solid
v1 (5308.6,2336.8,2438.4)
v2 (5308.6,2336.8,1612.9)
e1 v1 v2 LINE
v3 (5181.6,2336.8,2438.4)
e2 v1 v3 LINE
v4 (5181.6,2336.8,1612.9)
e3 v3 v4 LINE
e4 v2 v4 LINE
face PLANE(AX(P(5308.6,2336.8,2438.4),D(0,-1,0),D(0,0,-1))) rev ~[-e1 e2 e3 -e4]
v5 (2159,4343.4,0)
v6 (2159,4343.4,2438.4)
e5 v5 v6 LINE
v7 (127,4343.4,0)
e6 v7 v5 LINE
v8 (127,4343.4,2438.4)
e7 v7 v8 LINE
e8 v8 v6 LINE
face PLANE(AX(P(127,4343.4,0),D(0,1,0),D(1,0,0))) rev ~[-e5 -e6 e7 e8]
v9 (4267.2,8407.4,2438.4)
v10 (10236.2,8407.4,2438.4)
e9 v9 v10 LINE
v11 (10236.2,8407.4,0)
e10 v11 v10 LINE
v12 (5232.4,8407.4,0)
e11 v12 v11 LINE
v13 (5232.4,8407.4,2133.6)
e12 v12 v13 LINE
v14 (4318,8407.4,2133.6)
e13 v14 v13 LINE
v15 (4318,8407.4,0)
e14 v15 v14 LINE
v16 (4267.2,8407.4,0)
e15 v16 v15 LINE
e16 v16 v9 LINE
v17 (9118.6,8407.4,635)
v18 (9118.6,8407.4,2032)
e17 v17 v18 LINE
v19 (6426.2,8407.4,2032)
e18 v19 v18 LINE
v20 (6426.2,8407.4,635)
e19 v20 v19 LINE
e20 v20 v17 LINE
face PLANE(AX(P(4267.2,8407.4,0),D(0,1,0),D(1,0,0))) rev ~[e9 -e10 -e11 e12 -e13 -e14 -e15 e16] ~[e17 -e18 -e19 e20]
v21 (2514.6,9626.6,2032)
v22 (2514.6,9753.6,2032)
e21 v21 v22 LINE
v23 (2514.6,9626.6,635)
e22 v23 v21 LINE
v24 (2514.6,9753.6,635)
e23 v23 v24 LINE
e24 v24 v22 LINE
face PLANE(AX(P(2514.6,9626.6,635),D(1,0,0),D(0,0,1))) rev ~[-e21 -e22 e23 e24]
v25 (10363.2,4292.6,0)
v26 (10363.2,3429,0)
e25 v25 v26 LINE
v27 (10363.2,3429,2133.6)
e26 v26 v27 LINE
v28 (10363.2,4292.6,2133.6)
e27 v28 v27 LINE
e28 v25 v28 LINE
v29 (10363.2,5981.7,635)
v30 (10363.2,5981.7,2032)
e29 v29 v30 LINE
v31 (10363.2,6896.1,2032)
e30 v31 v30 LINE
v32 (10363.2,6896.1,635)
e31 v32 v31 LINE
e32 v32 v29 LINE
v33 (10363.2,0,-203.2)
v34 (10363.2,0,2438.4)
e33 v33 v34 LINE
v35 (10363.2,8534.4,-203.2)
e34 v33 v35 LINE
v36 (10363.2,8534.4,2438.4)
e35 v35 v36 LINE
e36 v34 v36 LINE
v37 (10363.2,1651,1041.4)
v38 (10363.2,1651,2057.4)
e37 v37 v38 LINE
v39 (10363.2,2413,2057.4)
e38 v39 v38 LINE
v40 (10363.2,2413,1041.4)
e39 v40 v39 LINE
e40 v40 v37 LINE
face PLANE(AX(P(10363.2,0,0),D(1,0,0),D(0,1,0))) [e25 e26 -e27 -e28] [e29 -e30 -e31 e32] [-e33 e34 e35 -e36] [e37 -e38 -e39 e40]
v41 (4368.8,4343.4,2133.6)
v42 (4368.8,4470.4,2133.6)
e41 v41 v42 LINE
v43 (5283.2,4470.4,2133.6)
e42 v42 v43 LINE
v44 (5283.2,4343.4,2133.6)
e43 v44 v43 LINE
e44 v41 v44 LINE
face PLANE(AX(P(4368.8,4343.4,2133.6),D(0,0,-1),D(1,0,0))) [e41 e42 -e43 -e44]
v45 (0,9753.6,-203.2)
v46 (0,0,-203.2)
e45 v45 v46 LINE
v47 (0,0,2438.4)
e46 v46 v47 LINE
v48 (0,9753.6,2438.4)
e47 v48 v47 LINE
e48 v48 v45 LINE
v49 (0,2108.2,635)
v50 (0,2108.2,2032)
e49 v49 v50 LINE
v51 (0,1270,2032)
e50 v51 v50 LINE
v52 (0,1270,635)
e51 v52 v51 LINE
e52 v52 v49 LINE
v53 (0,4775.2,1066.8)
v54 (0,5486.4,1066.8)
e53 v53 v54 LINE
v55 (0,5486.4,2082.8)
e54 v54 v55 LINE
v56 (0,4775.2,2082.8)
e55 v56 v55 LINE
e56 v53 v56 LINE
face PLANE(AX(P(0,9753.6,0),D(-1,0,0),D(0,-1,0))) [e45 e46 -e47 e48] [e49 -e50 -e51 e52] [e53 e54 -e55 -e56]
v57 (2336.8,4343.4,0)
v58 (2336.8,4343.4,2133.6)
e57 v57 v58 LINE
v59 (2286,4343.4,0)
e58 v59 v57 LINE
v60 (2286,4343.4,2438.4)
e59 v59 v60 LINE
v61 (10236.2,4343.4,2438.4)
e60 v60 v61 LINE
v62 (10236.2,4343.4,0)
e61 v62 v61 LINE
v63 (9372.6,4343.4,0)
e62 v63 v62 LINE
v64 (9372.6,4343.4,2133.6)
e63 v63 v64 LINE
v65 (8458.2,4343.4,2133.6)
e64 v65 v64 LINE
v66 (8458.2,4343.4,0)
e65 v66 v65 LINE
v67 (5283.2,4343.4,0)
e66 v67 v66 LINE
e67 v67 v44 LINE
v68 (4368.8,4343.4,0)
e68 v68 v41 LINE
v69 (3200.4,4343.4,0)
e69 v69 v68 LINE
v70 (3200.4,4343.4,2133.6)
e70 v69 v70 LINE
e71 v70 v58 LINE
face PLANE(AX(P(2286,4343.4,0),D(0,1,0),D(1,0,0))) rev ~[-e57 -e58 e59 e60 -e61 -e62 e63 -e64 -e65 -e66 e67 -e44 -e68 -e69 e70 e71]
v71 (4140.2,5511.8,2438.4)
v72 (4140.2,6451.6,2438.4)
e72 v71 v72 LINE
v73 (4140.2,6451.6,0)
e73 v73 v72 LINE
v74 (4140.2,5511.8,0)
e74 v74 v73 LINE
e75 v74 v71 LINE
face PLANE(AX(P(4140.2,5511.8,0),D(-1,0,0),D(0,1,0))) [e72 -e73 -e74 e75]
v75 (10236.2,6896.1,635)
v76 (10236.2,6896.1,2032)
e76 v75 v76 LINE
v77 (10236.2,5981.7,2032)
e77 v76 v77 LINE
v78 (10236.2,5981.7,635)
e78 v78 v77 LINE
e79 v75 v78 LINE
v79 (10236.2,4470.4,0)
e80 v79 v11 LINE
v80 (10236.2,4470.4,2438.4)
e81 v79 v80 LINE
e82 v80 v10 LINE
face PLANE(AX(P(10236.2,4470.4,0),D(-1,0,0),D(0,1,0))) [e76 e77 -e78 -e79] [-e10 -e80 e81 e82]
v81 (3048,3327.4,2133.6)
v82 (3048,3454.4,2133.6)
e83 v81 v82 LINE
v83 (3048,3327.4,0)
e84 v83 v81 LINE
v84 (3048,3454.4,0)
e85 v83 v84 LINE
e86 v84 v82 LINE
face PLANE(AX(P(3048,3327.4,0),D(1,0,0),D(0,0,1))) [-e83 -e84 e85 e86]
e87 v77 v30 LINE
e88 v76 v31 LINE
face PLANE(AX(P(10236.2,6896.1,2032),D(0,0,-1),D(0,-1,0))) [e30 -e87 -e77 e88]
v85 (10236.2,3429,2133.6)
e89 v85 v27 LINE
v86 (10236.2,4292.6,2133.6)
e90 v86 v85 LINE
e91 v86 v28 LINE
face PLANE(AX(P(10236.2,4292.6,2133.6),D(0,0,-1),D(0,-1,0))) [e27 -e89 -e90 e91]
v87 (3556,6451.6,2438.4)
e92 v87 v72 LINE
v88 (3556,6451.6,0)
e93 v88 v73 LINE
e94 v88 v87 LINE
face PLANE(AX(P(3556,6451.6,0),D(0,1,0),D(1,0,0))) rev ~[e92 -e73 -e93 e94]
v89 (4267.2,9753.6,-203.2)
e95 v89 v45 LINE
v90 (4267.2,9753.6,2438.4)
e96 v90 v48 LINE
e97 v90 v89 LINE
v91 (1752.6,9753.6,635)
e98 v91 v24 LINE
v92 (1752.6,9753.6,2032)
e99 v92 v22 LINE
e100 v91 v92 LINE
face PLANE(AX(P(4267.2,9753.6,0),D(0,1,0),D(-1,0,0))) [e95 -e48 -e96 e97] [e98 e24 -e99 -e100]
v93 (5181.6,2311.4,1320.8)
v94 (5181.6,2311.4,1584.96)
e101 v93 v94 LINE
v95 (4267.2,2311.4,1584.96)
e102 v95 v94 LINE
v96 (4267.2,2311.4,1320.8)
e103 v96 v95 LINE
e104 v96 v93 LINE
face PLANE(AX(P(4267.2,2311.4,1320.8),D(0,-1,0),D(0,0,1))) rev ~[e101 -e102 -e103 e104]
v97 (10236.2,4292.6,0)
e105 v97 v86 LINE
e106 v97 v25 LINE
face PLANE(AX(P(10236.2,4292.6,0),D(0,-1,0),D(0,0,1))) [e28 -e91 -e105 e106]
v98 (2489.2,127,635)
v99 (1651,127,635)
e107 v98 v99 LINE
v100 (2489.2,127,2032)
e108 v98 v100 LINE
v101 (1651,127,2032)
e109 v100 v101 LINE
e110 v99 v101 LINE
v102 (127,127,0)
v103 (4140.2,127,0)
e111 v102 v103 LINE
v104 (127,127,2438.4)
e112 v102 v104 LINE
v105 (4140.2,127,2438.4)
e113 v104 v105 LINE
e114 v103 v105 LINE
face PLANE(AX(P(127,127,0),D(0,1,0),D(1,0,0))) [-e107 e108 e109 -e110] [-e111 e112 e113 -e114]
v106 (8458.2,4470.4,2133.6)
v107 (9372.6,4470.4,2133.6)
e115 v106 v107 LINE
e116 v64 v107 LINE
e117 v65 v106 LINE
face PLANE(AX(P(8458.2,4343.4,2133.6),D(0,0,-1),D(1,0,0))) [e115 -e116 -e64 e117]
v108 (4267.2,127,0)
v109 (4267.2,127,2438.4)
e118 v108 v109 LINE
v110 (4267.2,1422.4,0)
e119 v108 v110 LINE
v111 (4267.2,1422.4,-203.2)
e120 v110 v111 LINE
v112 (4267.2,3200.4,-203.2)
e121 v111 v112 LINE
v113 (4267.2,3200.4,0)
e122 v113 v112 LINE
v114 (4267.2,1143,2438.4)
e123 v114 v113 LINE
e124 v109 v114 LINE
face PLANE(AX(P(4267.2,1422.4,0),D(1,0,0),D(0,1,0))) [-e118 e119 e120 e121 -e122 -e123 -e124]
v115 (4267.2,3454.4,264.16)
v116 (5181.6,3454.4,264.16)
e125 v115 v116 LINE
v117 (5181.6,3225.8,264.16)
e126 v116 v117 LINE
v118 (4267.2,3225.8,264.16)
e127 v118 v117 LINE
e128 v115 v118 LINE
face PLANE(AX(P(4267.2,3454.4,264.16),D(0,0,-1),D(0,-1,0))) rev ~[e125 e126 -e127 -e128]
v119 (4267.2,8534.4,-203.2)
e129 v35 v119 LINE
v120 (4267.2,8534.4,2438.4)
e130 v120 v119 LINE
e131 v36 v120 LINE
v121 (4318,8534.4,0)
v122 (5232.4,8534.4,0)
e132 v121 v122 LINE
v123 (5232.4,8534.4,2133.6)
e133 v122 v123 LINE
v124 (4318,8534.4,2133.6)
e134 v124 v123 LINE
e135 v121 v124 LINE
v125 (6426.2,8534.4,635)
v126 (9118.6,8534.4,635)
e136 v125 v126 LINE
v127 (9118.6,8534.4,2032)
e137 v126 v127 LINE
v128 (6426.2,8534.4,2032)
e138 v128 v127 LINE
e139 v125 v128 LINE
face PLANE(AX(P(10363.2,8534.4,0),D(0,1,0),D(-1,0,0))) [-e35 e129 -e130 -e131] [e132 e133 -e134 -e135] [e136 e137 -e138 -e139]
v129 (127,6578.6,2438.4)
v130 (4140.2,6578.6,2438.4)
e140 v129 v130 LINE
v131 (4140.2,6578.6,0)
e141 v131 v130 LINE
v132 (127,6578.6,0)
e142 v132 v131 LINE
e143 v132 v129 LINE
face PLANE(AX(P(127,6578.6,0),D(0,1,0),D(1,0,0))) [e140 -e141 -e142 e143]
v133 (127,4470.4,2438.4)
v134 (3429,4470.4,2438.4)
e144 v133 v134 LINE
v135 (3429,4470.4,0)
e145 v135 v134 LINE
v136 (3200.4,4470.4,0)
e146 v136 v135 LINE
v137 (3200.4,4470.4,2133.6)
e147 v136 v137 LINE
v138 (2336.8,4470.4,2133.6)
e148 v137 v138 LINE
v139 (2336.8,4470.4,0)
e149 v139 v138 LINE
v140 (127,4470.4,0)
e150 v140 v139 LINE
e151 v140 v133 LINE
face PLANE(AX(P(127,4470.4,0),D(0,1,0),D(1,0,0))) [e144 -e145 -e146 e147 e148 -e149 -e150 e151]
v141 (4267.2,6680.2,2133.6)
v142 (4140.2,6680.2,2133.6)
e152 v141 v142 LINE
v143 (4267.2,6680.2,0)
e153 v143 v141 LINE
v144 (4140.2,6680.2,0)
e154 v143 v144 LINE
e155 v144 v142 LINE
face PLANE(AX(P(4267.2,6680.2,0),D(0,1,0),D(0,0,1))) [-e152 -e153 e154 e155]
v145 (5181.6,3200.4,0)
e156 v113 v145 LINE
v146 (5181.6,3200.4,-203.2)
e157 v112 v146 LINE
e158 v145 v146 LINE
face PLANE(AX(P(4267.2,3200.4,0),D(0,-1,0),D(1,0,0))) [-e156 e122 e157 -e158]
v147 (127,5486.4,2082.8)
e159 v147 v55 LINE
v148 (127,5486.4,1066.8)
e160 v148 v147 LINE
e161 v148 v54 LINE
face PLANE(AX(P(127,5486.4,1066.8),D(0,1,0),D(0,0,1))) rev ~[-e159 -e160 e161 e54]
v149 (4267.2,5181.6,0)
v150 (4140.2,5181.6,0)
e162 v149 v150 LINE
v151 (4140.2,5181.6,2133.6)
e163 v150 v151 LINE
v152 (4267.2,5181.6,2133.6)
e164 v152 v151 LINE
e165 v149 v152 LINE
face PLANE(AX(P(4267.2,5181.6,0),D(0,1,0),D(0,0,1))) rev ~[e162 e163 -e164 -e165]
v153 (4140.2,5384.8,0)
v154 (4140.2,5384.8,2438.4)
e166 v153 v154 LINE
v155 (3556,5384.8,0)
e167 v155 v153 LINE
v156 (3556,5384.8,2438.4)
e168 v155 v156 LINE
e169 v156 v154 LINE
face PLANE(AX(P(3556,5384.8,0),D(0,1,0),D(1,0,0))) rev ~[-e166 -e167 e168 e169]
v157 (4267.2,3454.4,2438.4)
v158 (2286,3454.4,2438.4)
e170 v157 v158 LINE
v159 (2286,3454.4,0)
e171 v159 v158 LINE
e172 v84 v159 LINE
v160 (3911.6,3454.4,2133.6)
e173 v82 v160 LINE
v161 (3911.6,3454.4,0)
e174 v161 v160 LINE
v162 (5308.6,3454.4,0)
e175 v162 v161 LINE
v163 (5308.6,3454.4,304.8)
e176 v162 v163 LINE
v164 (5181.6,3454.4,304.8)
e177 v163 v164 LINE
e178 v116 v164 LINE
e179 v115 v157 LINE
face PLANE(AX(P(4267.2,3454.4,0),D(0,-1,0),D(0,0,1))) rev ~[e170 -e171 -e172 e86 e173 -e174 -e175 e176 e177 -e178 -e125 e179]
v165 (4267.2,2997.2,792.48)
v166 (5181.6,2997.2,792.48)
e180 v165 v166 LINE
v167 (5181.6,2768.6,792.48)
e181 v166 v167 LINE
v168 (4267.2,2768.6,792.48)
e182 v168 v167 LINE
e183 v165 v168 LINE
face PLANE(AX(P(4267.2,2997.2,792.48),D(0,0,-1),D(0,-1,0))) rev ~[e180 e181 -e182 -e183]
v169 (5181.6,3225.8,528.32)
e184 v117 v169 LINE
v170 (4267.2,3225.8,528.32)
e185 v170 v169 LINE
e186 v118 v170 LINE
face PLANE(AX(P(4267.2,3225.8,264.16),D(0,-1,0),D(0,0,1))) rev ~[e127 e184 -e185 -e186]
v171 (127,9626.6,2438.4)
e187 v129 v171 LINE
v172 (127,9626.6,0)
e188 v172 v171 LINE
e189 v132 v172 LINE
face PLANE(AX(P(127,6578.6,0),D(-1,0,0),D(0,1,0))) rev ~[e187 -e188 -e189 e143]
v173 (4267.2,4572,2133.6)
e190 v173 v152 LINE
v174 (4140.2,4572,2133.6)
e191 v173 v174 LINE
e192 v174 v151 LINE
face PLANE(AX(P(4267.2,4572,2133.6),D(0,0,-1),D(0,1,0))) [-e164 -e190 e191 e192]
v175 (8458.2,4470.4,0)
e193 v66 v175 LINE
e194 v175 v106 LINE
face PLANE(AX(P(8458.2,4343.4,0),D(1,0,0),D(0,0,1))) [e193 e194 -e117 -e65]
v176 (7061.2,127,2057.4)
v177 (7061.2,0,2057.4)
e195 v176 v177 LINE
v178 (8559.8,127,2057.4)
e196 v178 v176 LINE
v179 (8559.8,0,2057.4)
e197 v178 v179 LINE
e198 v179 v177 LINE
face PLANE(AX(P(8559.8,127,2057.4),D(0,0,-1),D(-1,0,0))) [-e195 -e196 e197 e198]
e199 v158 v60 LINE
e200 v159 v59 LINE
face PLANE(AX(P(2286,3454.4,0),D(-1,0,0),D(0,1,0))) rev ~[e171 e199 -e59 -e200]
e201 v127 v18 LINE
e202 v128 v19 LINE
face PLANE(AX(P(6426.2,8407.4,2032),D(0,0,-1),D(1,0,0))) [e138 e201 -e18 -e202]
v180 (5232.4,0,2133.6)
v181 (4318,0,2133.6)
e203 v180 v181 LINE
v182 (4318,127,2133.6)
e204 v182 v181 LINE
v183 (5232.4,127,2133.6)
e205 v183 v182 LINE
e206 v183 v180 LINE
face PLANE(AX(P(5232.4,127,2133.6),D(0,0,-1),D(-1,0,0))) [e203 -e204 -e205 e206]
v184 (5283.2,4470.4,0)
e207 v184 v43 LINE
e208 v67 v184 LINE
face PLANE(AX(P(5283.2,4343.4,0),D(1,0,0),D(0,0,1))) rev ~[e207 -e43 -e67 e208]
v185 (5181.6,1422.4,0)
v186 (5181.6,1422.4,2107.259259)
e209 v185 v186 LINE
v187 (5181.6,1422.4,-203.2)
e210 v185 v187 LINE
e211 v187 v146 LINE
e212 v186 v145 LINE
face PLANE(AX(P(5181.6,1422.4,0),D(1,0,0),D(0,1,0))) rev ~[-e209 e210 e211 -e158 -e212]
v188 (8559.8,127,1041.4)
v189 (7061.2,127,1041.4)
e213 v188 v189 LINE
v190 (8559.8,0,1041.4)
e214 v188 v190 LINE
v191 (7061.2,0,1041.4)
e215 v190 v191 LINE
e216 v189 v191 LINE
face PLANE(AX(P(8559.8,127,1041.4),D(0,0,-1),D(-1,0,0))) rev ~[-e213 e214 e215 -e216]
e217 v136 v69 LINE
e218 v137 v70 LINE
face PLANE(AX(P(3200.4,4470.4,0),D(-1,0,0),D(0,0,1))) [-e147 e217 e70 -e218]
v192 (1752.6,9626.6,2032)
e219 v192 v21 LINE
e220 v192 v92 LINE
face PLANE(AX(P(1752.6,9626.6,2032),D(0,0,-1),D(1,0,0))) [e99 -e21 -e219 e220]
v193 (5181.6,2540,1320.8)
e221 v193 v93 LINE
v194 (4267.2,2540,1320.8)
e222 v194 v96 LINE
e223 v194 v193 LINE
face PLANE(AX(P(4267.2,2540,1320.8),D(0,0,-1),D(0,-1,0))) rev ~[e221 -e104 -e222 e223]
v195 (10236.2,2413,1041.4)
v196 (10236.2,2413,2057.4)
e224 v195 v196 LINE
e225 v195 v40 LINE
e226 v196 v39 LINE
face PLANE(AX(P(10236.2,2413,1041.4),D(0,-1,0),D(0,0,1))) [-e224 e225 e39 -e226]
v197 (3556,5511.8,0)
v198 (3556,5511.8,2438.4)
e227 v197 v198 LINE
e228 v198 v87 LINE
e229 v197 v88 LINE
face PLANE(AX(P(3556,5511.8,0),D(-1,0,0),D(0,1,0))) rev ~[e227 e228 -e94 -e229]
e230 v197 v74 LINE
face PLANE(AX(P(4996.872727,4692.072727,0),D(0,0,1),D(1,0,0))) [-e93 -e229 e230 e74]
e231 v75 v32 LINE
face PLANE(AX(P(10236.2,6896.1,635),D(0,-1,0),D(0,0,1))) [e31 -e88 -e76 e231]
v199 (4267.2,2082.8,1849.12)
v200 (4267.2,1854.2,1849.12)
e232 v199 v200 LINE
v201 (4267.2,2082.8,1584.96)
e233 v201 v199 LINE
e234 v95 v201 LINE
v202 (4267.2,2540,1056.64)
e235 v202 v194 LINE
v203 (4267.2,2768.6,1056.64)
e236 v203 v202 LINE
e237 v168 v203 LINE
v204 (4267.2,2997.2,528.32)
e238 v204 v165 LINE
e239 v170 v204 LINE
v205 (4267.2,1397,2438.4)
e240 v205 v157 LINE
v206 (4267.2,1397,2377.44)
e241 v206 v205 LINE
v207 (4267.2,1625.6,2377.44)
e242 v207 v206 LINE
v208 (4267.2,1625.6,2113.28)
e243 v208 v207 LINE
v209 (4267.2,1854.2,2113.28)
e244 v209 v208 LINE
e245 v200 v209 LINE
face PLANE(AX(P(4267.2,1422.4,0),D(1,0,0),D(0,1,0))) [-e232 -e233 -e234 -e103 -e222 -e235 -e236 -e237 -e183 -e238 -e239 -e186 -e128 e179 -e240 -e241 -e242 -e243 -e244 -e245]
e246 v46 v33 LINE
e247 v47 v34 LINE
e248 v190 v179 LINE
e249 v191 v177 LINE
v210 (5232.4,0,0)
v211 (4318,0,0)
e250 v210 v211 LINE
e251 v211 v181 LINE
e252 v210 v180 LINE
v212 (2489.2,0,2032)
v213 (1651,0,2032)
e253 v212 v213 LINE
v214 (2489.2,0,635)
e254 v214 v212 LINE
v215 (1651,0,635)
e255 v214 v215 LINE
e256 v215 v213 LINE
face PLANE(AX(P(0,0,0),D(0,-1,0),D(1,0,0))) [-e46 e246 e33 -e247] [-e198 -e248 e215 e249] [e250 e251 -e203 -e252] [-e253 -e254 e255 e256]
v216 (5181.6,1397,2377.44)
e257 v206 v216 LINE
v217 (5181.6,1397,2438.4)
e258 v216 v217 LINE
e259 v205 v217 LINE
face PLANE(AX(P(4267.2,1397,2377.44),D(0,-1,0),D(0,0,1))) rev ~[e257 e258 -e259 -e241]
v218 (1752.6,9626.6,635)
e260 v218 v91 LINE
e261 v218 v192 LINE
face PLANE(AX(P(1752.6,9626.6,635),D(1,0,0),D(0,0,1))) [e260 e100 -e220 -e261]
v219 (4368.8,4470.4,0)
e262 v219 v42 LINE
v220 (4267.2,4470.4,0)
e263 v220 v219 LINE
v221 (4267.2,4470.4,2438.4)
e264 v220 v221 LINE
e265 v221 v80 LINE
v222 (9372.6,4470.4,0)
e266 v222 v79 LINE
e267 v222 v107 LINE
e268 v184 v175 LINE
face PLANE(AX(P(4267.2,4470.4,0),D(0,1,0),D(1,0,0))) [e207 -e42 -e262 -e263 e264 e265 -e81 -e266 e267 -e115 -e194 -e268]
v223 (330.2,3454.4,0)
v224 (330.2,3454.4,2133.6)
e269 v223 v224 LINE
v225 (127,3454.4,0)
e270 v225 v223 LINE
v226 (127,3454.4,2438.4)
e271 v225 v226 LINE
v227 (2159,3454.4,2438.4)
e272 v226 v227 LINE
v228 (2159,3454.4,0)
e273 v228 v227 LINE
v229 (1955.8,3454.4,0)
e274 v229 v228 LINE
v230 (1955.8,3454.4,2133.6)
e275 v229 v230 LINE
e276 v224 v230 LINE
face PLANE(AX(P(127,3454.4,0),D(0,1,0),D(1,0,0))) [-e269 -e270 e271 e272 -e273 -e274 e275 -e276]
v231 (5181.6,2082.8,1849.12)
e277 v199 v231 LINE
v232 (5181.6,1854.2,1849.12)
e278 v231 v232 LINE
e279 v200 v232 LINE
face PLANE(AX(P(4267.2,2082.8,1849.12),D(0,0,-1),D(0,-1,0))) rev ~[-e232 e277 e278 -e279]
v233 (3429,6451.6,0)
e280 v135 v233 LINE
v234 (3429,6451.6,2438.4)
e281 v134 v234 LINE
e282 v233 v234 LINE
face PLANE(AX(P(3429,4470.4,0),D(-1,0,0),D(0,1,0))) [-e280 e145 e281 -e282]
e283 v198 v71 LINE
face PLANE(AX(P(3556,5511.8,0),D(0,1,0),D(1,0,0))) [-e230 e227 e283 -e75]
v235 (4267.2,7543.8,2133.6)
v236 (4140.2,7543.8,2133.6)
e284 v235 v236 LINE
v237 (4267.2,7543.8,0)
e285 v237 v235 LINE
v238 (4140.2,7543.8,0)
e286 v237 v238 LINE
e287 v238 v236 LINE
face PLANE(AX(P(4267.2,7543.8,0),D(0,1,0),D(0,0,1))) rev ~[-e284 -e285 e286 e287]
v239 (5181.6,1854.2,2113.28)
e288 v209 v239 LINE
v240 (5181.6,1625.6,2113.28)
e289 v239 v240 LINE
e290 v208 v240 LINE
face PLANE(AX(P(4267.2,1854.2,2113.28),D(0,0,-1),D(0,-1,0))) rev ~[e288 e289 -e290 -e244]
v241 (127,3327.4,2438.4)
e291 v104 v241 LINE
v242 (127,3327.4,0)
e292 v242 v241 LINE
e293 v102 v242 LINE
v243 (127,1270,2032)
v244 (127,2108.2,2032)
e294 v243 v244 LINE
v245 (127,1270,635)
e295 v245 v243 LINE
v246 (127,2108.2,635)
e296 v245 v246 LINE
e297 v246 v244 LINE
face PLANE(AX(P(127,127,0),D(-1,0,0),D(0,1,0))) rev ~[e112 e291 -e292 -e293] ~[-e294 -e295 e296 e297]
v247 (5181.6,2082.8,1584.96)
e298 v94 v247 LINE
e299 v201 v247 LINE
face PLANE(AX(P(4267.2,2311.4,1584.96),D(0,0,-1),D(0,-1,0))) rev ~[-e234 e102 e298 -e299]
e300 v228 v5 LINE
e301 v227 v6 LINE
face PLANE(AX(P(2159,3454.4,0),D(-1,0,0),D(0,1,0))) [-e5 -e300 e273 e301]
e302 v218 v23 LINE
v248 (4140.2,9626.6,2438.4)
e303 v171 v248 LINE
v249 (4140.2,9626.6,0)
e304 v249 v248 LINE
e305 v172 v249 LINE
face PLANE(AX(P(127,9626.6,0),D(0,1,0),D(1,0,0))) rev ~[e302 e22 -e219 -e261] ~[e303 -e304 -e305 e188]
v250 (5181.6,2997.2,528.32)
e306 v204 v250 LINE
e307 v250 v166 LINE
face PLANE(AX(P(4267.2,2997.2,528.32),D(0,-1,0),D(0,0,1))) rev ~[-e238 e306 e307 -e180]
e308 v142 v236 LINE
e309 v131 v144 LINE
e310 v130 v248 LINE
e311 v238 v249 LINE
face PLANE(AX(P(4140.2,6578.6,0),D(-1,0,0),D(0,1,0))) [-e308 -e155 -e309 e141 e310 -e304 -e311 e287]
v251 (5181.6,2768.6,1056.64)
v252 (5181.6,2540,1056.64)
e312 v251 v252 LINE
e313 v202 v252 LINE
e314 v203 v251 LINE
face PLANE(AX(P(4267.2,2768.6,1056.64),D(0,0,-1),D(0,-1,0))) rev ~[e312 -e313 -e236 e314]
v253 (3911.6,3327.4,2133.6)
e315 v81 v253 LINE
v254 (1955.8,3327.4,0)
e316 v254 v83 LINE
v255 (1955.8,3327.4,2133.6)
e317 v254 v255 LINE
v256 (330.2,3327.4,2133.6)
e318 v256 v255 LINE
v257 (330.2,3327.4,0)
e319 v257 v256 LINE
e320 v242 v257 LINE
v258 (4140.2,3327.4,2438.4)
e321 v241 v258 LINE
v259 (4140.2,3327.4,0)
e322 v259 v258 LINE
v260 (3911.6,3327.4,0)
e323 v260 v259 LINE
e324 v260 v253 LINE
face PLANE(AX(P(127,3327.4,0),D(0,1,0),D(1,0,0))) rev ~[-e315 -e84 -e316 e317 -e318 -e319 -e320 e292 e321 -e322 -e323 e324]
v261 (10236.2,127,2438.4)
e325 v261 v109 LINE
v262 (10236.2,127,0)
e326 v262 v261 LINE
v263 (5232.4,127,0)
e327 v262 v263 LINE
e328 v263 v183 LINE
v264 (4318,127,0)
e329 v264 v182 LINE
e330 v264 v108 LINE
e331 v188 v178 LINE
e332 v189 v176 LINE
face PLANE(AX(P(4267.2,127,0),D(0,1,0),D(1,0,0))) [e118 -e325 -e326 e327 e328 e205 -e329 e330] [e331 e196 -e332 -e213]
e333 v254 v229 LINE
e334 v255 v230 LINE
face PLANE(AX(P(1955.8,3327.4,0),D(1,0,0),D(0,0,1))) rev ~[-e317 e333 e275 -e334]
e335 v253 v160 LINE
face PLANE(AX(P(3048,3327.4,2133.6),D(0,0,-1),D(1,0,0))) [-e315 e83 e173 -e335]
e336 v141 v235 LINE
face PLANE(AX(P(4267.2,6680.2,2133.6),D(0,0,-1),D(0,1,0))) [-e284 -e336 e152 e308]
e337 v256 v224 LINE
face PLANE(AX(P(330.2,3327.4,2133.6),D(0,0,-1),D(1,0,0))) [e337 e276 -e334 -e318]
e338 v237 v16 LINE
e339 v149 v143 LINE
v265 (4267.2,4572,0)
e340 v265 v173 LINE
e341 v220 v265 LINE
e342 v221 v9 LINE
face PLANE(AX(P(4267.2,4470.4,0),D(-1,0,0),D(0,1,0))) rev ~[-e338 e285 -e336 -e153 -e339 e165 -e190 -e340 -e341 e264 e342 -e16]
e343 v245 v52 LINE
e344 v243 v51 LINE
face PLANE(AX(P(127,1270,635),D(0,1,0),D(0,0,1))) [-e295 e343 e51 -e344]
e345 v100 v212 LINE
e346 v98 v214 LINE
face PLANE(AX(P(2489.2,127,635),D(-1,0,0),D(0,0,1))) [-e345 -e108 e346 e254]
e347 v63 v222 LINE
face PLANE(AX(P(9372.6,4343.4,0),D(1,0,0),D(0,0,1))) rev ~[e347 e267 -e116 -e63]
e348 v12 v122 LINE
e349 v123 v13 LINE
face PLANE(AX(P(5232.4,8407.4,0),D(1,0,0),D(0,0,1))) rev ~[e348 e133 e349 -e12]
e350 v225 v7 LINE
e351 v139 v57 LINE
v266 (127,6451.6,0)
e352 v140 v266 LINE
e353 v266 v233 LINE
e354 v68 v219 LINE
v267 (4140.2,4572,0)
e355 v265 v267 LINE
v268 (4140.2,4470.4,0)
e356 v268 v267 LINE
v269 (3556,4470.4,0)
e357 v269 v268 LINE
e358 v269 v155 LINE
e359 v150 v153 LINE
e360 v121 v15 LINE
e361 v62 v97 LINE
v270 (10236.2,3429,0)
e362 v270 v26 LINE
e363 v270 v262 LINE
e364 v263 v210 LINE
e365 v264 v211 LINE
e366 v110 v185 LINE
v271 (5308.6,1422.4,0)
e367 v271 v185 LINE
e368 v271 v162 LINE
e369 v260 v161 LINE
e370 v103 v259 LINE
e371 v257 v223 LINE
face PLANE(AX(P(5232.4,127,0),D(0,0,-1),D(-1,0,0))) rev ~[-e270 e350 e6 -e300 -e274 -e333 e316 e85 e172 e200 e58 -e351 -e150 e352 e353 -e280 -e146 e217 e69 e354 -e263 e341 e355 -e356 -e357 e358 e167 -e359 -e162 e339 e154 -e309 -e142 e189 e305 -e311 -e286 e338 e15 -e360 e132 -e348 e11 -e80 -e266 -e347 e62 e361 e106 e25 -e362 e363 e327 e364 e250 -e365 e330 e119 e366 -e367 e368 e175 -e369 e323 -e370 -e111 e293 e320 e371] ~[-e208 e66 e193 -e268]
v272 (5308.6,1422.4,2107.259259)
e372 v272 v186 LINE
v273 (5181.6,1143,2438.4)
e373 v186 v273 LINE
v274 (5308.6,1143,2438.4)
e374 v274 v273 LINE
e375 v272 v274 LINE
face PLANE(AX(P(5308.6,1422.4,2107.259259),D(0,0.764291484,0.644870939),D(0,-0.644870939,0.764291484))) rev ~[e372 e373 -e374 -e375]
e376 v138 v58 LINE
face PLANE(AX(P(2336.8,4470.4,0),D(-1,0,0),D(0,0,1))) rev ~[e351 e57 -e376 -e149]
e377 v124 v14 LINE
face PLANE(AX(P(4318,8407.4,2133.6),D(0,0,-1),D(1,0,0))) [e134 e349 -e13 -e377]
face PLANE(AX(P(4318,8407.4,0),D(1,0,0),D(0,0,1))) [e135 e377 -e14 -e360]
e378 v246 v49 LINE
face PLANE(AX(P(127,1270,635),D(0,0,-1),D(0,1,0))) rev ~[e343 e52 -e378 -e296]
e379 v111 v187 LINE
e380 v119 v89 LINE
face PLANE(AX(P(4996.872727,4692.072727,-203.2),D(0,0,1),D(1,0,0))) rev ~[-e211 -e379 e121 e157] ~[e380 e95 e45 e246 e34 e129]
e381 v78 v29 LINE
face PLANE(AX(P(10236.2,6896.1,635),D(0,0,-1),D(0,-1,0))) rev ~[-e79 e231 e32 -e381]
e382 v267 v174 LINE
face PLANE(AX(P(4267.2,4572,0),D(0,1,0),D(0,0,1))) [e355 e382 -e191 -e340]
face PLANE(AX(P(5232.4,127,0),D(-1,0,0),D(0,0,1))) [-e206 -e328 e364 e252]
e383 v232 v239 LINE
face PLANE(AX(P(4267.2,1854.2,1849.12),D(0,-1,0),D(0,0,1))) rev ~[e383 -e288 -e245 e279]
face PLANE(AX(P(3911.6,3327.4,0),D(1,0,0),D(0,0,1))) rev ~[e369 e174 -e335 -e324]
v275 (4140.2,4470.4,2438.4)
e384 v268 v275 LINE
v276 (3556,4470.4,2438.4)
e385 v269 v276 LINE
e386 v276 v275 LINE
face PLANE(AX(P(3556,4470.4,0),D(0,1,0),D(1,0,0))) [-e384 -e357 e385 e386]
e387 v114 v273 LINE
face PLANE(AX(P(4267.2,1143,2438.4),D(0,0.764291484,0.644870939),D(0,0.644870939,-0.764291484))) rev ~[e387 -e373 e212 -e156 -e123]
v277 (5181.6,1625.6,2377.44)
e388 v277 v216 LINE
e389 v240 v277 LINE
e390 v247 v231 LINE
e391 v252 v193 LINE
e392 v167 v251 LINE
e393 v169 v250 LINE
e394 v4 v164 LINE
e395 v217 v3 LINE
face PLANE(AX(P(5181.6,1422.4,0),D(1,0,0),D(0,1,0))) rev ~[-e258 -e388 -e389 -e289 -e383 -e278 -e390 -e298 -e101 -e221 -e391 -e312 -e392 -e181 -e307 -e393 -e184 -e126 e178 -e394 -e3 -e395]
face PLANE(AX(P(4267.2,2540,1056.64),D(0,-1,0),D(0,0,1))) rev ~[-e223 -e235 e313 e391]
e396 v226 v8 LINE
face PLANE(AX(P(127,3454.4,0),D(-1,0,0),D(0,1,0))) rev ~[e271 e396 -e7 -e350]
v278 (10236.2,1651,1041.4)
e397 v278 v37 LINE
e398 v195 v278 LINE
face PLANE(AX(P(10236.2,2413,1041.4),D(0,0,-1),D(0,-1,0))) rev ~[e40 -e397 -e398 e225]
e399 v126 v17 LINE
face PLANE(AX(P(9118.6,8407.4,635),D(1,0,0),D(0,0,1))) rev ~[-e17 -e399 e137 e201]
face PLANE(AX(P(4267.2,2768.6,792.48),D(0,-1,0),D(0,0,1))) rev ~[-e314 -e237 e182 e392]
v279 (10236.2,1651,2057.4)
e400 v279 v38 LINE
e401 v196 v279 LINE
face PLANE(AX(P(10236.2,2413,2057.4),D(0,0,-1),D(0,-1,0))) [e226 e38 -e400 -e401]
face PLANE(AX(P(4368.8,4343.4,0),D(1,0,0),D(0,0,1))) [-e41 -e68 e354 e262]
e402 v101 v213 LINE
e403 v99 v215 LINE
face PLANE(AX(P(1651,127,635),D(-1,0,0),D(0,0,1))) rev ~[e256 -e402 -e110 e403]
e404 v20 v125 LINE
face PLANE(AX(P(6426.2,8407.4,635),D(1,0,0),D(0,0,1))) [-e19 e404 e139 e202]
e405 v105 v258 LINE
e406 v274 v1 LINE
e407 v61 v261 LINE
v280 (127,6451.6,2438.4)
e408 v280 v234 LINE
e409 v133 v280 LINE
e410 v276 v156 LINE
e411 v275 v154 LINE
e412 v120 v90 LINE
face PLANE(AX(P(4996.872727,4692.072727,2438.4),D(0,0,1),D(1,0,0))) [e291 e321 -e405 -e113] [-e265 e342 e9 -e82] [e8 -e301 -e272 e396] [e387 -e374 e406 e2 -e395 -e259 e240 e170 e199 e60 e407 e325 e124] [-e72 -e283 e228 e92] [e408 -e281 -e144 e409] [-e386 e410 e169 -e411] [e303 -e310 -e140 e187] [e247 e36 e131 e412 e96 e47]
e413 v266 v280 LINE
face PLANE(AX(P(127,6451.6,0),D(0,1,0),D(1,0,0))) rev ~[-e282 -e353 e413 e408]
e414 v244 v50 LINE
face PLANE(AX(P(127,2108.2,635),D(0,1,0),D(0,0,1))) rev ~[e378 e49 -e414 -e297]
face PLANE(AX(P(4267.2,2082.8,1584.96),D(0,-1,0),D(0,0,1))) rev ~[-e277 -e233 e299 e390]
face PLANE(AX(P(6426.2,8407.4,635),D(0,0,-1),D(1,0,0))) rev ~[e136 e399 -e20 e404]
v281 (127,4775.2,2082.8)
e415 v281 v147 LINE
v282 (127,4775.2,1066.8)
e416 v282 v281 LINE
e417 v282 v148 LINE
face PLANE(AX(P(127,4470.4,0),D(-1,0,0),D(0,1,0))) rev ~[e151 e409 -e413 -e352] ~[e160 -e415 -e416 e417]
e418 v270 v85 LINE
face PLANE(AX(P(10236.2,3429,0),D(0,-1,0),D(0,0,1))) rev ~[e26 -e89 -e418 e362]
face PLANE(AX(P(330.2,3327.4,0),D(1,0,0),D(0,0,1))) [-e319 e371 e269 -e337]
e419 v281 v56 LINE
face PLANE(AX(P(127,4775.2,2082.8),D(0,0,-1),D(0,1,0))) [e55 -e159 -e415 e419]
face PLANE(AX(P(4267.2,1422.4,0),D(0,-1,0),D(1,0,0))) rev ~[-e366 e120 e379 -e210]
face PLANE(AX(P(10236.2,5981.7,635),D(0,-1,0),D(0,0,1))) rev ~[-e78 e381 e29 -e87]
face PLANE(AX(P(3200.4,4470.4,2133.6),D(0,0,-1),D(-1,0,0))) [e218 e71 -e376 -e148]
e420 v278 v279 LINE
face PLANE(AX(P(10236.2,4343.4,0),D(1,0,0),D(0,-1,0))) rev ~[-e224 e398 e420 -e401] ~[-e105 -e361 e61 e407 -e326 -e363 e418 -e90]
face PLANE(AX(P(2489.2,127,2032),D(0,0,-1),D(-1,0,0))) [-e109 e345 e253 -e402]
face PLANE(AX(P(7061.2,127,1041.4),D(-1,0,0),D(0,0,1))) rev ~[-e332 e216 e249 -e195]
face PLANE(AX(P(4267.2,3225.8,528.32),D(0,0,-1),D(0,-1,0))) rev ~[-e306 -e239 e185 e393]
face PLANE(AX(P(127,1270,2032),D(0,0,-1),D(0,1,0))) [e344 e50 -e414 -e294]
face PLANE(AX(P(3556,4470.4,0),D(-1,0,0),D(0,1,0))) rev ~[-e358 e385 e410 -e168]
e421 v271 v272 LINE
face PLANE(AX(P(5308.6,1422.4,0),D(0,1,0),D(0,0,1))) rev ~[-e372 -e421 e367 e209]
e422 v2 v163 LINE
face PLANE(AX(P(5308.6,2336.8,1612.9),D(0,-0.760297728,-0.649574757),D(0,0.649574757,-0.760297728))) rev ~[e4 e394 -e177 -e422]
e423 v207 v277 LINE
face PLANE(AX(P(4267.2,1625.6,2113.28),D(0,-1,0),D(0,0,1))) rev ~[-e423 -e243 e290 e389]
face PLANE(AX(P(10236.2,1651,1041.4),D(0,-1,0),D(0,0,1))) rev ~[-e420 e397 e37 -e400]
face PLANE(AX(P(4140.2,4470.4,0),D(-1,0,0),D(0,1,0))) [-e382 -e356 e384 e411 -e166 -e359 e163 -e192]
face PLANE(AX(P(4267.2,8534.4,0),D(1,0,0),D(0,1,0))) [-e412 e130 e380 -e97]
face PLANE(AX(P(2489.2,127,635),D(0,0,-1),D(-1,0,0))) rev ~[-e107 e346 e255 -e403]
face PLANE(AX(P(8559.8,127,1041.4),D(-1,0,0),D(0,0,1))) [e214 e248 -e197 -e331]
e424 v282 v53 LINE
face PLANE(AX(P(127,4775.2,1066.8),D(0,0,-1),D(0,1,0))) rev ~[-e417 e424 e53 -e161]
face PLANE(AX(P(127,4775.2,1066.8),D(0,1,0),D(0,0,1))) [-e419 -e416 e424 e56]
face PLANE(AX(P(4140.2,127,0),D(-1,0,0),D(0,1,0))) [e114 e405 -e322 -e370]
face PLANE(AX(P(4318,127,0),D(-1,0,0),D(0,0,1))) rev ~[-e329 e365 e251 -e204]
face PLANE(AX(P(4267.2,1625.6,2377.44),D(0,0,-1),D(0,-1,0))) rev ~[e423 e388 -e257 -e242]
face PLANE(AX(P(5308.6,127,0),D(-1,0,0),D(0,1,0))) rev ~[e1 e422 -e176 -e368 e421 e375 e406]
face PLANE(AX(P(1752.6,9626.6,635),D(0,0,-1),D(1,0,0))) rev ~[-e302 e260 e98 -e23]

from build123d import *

# Parameters (mm, degrees)
F0_W           = 4013.2
F0_H           = 3200.4
F0_W_2         = 914.4
F0_W_3         = 2032
F0_H_2         = 889
F0_W_4         = 3302
F0_H_3         = 1981.2
F0_W_5         = 584.2
F0_H_4         = 914.4
F0_H_5         = 939.8
F0_H_6         = 3048
F0_W_6         = 5969
F0_H_7         = 3937
F1_DEPTH       = 2438.4
F2_W           = 914.4
F2_H           = 1778
F3_DEPTH       = 203.2
F4_W           = 863.6
F4_H           = 2133.6
F4_W_2         = 762
F4_H_2         = 1016
F5_DEPTH       = 127
F6_W           = 914.4
F6_H           = 2133.6
F7_DEPTH       = 127
F9_DEPTH       = 127
F10_W          = 1498.6
F10_H          = 1016
F10_W_2        = 914.4
F10_H_2        = 2133.6
F11_DEPTH      = 127
F12_W          = 914.4
F12_H          = 1397
F13_DEPTH      = 127
F14_W          = 914.4
F14_H          = 2133.6
F14_W_2        = 2692.4
F14_H_2        = 1397
F15_DEPTH      = 127
F15_DEPTH_BACK = 25.4
F16_W          = 609.6
F16_H          = 2133.6
F16_W_2        = 863.6
F17_DEPTH      = 127
F18_W          = 711.2
F18_H          = 1016
F19_DEPTH      = 127
F20_W          = 863.6
F20_H          = 2133.6
F21_DEPTH      = 127
F22_W          = 863.6
F22_H          = 2133.6
F22_W_2        = 1625.6
F23_DEPTH      = 127
F24_W          = 838.2
F24_H          = 1397
F25_DEPTH      = 127
F26_W          = 838.2
F26_H          = 1397
F27_DEPTH      = 127
F28_W          = 914.4
F28_H          = 2438.4
F29_DEPTH      = 127
F35_DEPTH      = 914.4
F31_DEPTH      = 127
F32_W          = 762
F32_H          = 1397
F33_DEPTH      = 127


with BuildPart() as f1:
    # F0 (on Top) → F1 (new body)
    with BuildSketch(Plane.XY):
        Polygon((0, 9753.6), (0, 0), (10363.2, 0), (10363.2, 8534.4), (4267.2, 8534.4), (4267.2, 9753.6), align=None)
        with Locations((2133.6, 1727.2)):
            Rectangle(F0_W, F0_H, mode=Mode.SUBTRACT)
        with Locations((4724.4, 1727.2)):
            Rectangle(F0_W_2, F0_H, mode=Mode.SUBTRACT)
        with Locations((1143, 3898.9)):
            Rectangle(F0_W_3, F0_H_2, mode=Mode.SUBTRACT)
        Polygon((5308.6, 3454.4), (2286, 3454.4), (2286, 4343.4), (10236.2, 4343.4), (10236.2, 127), (5308.6, 127), align=None, mode=Mode.SUBTRACT)
        with Locations((1778, 5461)):
            Rectangle(F0_W_4, F0_H_3, mode=Mode.SUBTRACT)
        with Locations((3848.1, 4927.6)):
            Rectangle(F0_W_5, F0_H_4, mode=Mode.SUBTRACT)
        with Locations((3848.1, 5981.7)):
            Rectangle(F0_W_5, F0_H_5, mode=Mode.SUBTRACT)
        with Locations((2133.6, 8102.6)):
            Rectangle(F0_W, F0_H_6, mode=Mode.SUBTRACT)
        with Locations((7251.7, 6438.9)):
            Rectangle(F0_W_6, F0_H_7, mode=Mode.SUBTRACT)
    extrude(amount=F1_DEPTH)

    # F2 (on Top) → F3 (join)
    with BuildSketch(Plane.XY):
        Polygon((0, 9753.6), (0, 0), (10363.2, 0), (10363.2, 8534.4), (4267.2, 8534.4), (4267.2, 9753.6), align=None)
        with Locations((4724.4, 2311.4)):
            Rectangle(F2_W, F2_H, mode=Mode.SUBTRACT)
    extrude(amount=-F3_DEPTH)

    # F4 (on face) → F5 (cut, through all)
    with BuildSketch(Plane(origin=(10236.2, 0, 0), x_dir=(0, -1, 0), z_dir=(-1, 0, 0))):
        with Locations((-3860.8, 1066.8)):
            Rectangle(F4_W, F4_H)
        with Locations((-2032, 1549.4)):
            Rectangle(F4_W_2, F4_H_2)
    extrude(amount=-F5_DEPTH, mode=Mode.SUBTRACT)

    # F6 (on face) → F7 (cut, through all)
    with BuildSketch(Plane.XZ.offset(-4343.4)):
        with Locations((4826, 1066.8)):
            Rectangle(F6_W, F6_H)
        with Locations((8915.4, 1066.8)):
            Rectangle(F6_W, F6_H)
    extrude(amount=-F7_DEPTH, mode=Mode.SUBTRACT)

    # F8 (on face) → F9 (cut, through all)
    with BuildSketch(Plane.YZ.offset(5308.6)):
        Polygon((127, 2438.4), (127, 0), (1422.4, 0), (1422.4, 2107.259259), (1143, 2438.4), align=None)
    extrude(amount=-F9_DEPTH, mode=Mode.SUBTRACT)

    # F10 (on face) → F11 (cut, through all)
    with BuildSketch(Plane(origin=(0, 127, 0), x_dir=(-1, 0, 0), z_dir=(0, 1, 0))):
        with Locations((-7810.5, 1549.4)):
            Rectangle(F10_W, F10_H)
        with Locations((-4775.2, 1066.8)):
            Rectangle(F10_W_2, F10_H_2)
    extrude(amount=-F11_DEPTH, mode=Mode.SUBTRACT)

    # F12 (on face) → F13 (cut, through all)
    with BuildSketch(Plane(origin=(10236.2, 0, 0), x_dir=(0, -1, 0), z_dir=(-1, 0, 0))):
        with Locations((-6438.9, 1333.5)):
            Rectangle(F12_W, F12_H)
    extrude(amount=-F13_DEPTH, mode=Mode.SUBTRACT)

    # F14 (on face) → F15 (cut, two sides)
    with BuildSketch(Plane.XZ.offset(-8407.4)) as f15_sk:
        with Locations((4775.2, 1066.8)):
            Rectangle(F14_W, F14_H)
        with Locations((7772.4, 1333.5)):
            Rectangle(F14_W_2, F14_H_2)
    extrude(amount=-F15_DEPTH, mode=Mode.SUBTRACT)
    extrude(f15_sk.sketch, amount=-F15_DEPTH_BACK, mode=Mode.SUBTRACT)

    # F16 (on face) → F17 (cut, through all)
    with BuildSketch(Plane.YZ.offset(4267.2)):
        with Locations((4876.8, 1066.8)):
            Rectangle(F16_W, F16_H)
        with Locations((7112, 1066.8)):
            Rectangle(F16_W_2, F16_H)
    extrude(amount=-F17_DEPTH, mode=Mode.SUBTRACT)

    # F18 (on face) → F19 (cut, through all)
    with BuildSketch(Plane.YZ.offset(127)):
        with Locations((5130.8, 1574.8)):
            Rectangle(F18_W, F18_H)
    extrude(amount=-F19_DEPTH, mode=Mode.SUBTRACT)

    # F20 (on face) → F21 (cut, through all)
    with BuildSketch(Plane(origin=(0, 4470.4, 0), x_dir=(-1, 0, 0), z_dir=(0, 1, 0))):
        with Locations((-2768.6, 1066.8)):
            Rectangle(F20_W, F20_H)
    extrude(amount=-F21_DEPTH, mode=Mode.SUBTRACT)

    # F22 (on face) → F23 (cut, through all)
    with BuildSketch(Plane.XZ.offset(-3327.4)):
        with Locations((3479.8, 1066.8)):
            Rectangle(F22_W, F22_H)
        with Locations((1143, 1066.8)):
            Rectangle(F22_W_2, F22_H)
    extrude(amount=-F23_DEPTH, mode=Mode.SUBTRACT)

    # F24 (on face) → F25 (cut, through all)
    with BuildSketch(Plane.YZ.offset(127)):
        with Locations((1689.1, 1333.5)):
            Rectangle(F24_W, F24_H)
    extrude(amount=-F25_DEPTH, mode=Mode.SUBTRACT)

    # F26 (on face) → F27 (cut, through all)
    with BuildSketch(Plane(origin=(0, 127, 0), x_dir=(-1, 0, 0), z_dir=(0, 1, 0))):
        with Locations((-2070.1, 1333.5)):
            Rectangle(F26_W, F26_H)
    extrude(amount=-F27_DEPTH, mode=Mode.SUBTRACT)

    # F28 (on face) → F29 (cut, through all)
    with BuildSketch(Plane.XZ.offset(-3327.4)):
        with Locations((4724.4, 1219.2)):
            Rectangle(F28_W, F28_H)
    extrude(amount=-F29_DEPTH, mode=Mode.SUBTRACT)

    # F34 (on face) → F35 (join)
    with BuildSketch(Plane.YZ.offset(4267.2)):
        Polygon((3200.4, 0), (3454.4, 0), (3454.4, 264.16), (3225.8, 264.16), (3225.8, 528.32), (2997.2, 528.32), (2997.2, 792.48), (2768.6, 792.48), (2768.6, 1056.64), (2540, 1056.64), (2540, 1320.8), (2311.4, 1320.8), (2311.4, 1584.96), (2082.8, 1584.96), (2082.8, 1849.12), (1854.2, 1849.12), (1854.2, 2113.28), (1625.6, 2113.28), (1625.6, 2377.44), (1397, 2377.44), (1397, 2438.4), (1143, 2438.4), align=None)
    extrude(amount=F35_DEPTH)

    # F30 (on face) → F31 (cut, through all)
    with BuildSketch(Plane.YZ.offset(5308.6)):
        Polygon((2336.8, 1612.9), (3454.4, 304.8), (3454.4, 2438.4), (2336.8, 2438.4), align=None)
    extrude(amount=-F31_DEPTH, mode=Mode.SUBTRACT)

    # F32 (on face) → F33 (cut, through all)
    with BuildSketch(Plane.XZ.offset(-9626.6)):
        with Locations((2133.6, 1333.5)):
            Rectangle(F32_W, F32_H)
    extrude(amount=-F33_DEPTH, mode=Mode.SUBTRACT)


solid = f1.part
